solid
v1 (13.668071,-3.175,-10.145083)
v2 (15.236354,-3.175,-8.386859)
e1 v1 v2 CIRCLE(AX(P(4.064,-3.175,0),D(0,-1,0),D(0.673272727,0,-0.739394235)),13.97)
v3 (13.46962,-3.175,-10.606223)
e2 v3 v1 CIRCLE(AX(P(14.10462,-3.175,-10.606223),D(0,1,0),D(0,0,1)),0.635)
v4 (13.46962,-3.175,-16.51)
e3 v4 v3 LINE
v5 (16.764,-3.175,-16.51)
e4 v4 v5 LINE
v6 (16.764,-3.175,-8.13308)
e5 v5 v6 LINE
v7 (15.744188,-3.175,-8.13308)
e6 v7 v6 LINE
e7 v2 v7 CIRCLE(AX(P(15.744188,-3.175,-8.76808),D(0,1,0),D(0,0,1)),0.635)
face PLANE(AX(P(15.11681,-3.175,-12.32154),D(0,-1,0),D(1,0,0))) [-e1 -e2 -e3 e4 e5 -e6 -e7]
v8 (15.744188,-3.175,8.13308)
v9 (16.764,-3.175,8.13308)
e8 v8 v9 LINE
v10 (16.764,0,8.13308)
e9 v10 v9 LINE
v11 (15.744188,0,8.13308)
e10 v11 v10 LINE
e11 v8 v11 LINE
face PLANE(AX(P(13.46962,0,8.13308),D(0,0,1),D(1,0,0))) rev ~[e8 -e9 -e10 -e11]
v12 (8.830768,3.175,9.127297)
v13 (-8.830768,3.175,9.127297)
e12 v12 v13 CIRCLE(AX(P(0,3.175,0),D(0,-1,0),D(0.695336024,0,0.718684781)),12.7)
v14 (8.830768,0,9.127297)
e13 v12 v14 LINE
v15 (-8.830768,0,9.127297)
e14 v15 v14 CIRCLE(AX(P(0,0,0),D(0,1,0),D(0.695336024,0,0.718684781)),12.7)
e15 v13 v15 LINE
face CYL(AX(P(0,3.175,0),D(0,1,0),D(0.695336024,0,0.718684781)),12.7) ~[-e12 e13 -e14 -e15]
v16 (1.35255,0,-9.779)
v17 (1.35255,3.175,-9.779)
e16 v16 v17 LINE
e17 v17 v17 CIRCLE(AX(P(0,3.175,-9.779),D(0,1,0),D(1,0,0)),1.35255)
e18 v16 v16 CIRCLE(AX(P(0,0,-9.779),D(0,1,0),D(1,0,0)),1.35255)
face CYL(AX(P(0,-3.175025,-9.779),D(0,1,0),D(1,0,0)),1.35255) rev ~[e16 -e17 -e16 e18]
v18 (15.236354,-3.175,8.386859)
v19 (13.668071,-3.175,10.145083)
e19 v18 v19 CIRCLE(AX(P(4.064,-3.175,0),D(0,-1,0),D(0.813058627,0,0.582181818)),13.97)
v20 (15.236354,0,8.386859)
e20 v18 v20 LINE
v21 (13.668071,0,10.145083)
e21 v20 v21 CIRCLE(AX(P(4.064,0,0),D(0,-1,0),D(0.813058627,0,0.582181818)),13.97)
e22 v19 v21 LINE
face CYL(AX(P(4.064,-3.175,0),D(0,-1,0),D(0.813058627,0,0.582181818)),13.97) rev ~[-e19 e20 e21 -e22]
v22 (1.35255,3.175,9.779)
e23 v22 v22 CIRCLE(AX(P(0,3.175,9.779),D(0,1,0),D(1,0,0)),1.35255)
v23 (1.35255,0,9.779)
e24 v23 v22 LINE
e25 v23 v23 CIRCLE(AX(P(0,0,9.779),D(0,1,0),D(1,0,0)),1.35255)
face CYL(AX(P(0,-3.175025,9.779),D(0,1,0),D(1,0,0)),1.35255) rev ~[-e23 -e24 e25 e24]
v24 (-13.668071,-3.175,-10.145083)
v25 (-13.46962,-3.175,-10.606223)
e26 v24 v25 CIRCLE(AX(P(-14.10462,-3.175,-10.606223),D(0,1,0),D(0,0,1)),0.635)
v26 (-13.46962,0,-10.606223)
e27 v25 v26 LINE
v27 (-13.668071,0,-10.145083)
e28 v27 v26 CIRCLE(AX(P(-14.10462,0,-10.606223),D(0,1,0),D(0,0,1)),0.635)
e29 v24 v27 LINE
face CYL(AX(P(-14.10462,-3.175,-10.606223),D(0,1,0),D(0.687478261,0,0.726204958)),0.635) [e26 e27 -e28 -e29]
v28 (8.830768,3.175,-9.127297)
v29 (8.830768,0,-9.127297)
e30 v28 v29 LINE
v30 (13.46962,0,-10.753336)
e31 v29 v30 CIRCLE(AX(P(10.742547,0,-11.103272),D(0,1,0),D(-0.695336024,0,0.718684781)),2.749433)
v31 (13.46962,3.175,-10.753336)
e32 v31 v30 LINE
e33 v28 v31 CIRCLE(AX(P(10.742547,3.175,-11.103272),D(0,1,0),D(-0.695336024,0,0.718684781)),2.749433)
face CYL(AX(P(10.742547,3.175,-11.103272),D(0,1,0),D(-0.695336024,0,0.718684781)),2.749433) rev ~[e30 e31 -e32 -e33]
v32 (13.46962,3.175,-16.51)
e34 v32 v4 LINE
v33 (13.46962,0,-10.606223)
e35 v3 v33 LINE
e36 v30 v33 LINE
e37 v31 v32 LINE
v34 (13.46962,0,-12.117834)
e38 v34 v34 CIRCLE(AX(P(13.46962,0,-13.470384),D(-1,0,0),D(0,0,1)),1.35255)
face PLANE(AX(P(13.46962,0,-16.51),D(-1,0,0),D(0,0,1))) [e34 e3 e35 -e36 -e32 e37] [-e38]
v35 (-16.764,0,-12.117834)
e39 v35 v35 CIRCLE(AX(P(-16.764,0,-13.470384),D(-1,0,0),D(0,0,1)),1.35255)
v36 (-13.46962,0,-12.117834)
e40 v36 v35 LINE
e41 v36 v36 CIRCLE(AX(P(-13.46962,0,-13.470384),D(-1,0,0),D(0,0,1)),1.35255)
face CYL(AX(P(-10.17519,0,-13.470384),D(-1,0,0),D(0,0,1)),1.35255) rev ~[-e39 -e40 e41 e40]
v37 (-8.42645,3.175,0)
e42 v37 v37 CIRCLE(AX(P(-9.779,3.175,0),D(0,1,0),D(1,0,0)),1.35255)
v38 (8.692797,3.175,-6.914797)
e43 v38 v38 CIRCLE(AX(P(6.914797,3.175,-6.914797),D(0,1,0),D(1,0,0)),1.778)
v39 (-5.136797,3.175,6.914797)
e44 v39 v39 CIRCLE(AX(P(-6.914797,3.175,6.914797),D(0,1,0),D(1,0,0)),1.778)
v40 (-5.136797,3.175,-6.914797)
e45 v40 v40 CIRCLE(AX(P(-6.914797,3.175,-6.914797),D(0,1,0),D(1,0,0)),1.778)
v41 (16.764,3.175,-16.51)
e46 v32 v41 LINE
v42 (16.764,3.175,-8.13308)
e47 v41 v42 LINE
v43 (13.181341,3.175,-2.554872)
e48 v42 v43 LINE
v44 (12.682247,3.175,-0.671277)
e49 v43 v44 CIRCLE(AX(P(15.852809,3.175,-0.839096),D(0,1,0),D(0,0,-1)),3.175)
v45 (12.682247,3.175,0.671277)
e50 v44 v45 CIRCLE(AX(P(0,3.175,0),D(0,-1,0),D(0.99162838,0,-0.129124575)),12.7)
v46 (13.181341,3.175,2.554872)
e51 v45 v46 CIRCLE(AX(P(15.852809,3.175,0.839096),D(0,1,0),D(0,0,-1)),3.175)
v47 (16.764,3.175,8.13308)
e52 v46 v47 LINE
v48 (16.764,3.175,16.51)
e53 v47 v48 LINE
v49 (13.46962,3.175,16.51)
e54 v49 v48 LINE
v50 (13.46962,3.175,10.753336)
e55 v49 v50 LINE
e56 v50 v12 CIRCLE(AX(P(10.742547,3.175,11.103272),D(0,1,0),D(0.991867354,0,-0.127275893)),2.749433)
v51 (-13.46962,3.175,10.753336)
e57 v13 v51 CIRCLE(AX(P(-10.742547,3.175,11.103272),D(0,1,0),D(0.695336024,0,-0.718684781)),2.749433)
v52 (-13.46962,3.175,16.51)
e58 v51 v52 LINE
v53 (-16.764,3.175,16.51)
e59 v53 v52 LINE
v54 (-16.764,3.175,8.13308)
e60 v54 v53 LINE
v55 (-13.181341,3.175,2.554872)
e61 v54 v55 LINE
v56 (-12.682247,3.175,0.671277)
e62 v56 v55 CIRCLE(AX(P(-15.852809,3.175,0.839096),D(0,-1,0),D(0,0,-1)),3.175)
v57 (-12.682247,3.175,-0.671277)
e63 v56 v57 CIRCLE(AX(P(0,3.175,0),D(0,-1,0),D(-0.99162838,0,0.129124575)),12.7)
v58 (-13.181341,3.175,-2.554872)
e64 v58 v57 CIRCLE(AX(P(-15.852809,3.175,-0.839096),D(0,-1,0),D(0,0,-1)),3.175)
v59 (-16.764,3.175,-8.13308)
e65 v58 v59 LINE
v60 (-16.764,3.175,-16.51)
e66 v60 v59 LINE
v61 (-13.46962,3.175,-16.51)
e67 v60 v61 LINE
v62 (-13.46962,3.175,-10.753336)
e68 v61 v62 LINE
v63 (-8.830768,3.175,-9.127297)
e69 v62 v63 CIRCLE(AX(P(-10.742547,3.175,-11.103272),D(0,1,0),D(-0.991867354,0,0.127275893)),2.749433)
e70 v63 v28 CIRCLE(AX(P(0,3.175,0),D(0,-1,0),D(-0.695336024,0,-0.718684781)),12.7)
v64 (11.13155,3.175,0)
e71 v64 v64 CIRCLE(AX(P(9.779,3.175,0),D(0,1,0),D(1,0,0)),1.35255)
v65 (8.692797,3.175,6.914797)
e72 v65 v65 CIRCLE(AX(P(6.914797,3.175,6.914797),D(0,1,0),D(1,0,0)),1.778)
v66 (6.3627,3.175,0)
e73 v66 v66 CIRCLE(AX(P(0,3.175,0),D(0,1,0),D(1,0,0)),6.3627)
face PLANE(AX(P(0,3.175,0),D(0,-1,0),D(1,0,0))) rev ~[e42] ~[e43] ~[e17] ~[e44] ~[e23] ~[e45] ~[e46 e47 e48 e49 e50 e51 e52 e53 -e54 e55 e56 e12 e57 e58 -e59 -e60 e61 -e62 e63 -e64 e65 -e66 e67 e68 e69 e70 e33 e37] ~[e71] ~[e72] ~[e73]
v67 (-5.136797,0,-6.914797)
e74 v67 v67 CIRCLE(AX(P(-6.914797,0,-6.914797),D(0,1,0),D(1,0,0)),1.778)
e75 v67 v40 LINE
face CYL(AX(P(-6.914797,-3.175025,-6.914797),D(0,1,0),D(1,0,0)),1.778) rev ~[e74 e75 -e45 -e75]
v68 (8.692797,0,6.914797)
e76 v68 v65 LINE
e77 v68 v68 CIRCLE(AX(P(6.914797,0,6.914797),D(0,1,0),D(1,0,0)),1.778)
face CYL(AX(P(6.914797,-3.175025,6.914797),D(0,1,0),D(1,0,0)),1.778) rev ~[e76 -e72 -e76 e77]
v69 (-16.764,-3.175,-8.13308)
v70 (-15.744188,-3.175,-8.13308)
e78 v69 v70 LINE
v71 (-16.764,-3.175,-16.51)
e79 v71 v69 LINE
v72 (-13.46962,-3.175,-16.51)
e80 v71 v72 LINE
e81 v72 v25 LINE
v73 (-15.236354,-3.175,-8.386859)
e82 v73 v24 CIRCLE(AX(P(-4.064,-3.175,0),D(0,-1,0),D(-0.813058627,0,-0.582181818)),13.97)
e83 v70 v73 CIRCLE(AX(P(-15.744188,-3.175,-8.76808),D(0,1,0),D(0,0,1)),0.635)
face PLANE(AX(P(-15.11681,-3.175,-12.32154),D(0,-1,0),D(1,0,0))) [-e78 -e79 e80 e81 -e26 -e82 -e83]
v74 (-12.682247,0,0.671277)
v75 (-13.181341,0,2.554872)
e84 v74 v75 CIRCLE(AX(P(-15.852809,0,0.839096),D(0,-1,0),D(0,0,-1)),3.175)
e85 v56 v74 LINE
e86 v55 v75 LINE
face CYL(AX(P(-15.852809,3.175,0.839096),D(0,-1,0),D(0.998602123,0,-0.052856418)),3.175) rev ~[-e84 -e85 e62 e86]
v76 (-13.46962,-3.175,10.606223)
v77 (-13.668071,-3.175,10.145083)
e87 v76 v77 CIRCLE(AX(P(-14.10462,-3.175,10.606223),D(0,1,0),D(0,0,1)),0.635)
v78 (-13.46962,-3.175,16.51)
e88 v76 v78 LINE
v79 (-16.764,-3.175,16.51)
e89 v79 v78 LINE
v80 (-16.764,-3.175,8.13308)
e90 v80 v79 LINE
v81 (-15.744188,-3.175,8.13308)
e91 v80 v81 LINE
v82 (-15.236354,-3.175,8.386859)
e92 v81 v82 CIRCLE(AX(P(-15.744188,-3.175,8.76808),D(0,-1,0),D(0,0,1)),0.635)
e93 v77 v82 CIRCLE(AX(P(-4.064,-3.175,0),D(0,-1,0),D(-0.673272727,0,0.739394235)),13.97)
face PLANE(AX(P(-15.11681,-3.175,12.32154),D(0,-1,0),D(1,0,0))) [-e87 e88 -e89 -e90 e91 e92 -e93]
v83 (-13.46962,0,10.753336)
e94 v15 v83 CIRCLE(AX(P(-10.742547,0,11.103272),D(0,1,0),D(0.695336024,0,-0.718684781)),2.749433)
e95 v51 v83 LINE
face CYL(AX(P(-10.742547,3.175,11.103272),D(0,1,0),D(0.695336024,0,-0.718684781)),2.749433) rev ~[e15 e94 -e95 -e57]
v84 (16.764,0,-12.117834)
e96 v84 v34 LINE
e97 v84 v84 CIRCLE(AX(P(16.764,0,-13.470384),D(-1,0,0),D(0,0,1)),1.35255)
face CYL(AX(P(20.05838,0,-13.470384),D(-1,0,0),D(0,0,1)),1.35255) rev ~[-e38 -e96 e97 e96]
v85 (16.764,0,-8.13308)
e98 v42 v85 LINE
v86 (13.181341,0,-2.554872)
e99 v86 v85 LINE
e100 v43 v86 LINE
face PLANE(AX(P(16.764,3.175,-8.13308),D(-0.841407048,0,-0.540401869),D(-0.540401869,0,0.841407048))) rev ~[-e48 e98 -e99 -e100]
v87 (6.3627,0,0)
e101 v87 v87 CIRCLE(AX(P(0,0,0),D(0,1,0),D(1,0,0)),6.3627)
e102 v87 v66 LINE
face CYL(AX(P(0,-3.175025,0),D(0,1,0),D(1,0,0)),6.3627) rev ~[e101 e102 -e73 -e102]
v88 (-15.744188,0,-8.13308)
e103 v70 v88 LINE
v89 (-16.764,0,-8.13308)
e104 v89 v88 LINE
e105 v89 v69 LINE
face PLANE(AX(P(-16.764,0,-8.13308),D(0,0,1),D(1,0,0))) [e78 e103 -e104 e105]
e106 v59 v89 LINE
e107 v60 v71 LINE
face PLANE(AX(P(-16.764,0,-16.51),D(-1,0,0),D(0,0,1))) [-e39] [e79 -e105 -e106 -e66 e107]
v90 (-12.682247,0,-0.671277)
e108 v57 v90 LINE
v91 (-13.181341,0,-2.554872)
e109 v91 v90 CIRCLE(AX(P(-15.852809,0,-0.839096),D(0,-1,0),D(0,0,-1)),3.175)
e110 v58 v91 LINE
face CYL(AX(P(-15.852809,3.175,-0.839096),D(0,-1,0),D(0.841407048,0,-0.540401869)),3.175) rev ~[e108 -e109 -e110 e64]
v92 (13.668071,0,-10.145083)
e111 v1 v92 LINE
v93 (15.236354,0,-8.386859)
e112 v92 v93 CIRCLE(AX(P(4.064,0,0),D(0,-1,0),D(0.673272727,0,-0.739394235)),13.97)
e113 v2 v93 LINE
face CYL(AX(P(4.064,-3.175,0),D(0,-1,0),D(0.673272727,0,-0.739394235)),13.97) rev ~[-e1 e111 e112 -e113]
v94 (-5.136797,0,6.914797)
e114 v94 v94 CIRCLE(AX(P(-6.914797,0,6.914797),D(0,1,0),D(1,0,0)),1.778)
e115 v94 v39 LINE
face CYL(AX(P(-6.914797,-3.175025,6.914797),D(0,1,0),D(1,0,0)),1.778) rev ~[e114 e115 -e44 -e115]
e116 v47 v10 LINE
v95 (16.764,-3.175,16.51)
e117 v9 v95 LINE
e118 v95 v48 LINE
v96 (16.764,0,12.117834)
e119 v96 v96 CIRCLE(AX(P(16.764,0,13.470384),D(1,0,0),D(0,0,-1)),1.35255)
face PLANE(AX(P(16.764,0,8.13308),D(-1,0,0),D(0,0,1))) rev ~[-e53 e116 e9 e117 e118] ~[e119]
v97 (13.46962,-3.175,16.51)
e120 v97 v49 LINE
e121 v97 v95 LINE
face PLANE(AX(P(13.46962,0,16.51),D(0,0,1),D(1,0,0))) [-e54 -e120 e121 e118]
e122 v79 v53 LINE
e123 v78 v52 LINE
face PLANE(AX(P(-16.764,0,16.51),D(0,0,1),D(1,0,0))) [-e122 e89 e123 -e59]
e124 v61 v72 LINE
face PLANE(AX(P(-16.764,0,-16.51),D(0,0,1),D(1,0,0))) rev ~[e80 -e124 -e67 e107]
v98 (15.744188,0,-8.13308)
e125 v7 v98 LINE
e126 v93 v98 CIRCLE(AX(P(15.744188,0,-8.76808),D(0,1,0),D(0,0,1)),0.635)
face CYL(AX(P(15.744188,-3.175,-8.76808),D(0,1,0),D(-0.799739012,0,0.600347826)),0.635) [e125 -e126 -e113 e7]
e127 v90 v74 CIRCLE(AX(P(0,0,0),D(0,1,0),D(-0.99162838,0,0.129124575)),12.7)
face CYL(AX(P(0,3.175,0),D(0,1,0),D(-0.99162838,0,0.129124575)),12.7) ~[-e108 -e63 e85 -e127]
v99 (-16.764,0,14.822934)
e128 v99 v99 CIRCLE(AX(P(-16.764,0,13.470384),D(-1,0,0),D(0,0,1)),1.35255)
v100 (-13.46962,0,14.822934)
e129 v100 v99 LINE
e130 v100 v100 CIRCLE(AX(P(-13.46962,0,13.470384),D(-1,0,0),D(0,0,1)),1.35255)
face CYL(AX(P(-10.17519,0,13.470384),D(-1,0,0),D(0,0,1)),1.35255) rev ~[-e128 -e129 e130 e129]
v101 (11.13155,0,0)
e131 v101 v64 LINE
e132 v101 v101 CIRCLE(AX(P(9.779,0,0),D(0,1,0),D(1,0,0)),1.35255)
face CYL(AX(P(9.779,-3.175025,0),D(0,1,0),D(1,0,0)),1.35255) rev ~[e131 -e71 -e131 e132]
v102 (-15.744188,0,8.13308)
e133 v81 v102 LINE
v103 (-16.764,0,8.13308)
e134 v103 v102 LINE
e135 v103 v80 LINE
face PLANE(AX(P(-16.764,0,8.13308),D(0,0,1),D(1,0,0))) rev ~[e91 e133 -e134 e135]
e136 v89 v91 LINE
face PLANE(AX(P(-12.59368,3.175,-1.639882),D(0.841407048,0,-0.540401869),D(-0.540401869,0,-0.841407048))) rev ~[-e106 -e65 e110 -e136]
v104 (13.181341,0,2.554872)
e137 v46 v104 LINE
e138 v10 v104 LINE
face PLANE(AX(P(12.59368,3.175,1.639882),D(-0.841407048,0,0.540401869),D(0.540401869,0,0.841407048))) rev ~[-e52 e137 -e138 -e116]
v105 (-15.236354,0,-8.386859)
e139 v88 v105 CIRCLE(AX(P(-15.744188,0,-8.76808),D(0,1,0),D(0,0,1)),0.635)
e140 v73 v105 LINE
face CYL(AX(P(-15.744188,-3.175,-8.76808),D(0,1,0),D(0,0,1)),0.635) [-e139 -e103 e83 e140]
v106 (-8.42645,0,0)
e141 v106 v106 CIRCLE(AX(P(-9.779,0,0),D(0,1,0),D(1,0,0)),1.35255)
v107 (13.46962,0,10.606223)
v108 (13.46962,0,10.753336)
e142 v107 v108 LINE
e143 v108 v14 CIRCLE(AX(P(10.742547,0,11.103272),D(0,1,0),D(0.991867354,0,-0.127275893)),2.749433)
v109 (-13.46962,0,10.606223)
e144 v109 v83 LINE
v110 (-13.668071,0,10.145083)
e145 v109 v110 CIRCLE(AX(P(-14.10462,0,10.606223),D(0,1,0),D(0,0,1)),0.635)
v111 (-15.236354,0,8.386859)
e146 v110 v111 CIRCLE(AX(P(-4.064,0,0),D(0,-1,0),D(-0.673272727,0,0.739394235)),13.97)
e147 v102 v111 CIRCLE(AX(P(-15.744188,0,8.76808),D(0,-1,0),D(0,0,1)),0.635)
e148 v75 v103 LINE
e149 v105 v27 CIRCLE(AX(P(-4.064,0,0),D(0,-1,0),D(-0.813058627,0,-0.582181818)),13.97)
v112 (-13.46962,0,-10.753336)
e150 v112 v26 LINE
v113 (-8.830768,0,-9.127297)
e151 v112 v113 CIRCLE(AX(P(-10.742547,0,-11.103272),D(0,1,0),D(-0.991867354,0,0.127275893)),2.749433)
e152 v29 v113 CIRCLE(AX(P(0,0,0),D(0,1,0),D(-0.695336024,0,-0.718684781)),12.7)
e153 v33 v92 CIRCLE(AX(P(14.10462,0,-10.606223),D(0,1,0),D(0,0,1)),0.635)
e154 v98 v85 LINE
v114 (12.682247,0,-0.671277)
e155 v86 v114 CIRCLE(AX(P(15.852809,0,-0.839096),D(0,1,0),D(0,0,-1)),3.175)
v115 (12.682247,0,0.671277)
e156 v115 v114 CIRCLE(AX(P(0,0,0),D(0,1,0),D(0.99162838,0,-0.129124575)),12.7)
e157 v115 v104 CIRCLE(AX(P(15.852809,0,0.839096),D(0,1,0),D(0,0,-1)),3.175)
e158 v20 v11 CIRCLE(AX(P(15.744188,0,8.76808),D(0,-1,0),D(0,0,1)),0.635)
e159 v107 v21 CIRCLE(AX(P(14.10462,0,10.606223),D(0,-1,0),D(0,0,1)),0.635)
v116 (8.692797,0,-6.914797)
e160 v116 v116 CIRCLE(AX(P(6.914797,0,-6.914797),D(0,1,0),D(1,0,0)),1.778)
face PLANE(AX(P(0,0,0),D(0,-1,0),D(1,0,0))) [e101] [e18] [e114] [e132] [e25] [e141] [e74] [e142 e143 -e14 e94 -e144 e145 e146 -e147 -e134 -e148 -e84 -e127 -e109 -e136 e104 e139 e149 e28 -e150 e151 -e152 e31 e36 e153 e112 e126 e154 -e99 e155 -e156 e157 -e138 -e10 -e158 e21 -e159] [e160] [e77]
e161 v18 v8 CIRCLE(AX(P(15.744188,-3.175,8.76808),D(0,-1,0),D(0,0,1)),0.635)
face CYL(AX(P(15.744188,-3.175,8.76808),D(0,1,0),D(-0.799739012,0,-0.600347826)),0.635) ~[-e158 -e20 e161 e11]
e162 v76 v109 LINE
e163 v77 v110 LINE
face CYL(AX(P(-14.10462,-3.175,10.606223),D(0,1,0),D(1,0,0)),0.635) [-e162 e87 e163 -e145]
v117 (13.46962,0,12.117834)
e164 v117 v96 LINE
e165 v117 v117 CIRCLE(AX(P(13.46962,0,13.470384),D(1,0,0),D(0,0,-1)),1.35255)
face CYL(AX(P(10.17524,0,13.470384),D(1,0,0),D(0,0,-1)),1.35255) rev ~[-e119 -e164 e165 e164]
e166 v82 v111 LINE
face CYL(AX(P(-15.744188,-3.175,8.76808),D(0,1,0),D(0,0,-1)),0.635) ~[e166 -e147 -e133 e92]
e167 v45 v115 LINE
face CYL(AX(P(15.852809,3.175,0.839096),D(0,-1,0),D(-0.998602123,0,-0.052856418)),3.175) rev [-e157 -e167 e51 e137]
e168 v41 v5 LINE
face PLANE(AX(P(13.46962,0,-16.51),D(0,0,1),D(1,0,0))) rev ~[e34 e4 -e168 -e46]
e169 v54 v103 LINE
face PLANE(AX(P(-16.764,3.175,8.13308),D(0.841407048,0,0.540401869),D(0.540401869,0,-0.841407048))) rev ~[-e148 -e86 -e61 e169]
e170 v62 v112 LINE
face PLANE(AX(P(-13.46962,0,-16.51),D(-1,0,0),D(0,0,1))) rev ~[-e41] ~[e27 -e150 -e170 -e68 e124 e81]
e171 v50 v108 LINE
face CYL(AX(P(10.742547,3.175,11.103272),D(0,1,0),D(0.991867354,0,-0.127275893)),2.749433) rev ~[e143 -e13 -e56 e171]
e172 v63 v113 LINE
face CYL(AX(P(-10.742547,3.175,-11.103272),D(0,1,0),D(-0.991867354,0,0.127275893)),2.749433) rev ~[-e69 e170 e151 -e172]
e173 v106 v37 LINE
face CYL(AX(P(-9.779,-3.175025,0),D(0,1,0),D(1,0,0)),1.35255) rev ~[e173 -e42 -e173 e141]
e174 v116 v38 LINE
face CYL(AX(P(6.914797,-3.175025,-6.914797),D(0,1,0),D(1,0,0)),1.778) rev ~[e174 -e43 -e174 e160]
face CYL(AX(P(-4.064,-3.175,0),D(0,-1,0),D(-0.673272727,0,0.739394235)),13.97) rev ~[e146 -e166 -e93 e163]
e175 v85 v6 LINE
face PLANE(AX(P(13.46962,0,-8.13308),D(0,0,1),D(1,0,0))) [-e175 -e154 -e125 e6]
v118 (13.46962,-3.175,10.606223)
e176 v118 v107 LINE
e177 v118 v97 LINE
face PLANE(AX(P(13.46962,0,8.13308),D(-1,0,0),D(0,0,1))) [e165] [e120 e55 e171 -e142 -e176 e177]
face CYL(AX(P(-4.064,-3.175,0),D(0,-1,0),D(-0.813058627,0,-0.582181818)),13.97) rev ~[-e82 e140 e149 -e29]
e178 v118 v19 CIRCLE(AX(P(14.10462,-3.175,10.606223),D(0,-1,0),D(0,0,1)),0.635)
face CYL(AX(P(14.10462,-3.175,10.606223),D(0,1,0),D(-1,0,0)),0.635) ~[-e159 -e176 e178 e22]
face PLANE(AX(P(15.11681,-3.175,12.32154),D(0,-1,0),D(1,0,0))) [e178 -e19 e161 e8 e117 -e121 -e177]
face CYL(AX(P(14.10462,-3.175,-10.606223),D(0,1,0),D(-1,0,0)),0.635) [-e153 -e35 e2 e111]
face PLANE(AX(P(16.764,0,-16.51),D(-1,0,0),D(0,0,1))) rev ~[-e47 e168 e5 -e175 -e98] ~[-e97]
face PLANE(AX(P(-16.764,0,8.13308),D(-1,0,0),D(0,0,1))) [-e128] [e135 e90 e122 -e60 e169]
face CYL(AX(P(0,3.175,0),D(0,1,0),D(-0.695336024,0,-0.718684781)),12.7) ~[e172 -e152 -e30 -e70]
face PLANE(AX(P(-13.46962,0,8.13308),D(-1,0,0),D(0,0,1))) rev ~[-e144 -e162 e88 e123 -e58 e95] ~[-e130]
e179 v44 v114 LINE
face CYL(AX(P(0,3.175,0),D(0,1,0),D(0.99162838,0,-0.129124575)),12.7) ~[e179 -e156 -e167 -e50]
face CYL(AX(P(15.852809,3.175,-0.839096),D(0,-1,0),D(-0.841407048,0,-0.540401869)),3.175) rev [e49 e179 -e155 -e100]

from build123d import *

# Parameters (mm, degrees)
SKETCH1_W                  = 33.528
SKETCH1_H                  = 33.02
BOSS_EXTRUDE1_DEPTH        = 3.175
CUT_EXTRUDE1_DEPTH         = 4.175
SKETCH3_W                  = 3.29438
SKETCH3_H                  = 8.37692
BOSS_EXTRUDE2_DEPTH        = 3.175
CUT_EXTRUDE2_DEPTH         = 7.35
SKETCH5_W                  = 3.29438
SKETCH5_H                  = 8.37692
BOSS_EXTRUDE3_DEPTH        = 3.175
CUT_EXTRUDE3_DEPTH         = 7.35
SKETCH7_W                  = 3.29438
SKETCH7_H                  = 8.37692
BOSS_EXTRUDE4_DEPTH        = 3.175
CUT_EXTRUDE4_DEPTH         = 7.35
SKETCH9_W                  = 3.29438
SKETCH9_H                  = 8.37692
BOSS_EXTRUDE5_DEPTH        = 3.175
CUT_EXTRUDE5_DEPTH         = 3.175
CUT_EXTRUDE6_DEPTH         = 3.175
CUT_EXTRUDE7_DEPTH         = 3.175
CUT_EXTRUDE8_DEPTH         = 3.175
HOLE1_D                    = 12.7254
HOLE1_DEPTH                = 3.175025
M2_5_CLEARANCE_HOLE1_D     = 2.7051
M2_5_CLEARANCE_HOLE1_DEPTH = 3.175025
M3_CLEARANCE_HOLE1_D       = 3.556
M3_CLEARANCE_HOLE1_DEPTH   = 3.175025
M2_5_CLEARANCE_HOLE2_D     = 2.7051
M2_5_CLEARANCE_HOLE2_DEPTH = 3.29438
M2_5_CLEARANCE_HOLE3_D     = 2.7051
M2_5_CLEARANCE_HOLE3_DEPTH = 3.29438
M2_5_CLEARANCE_HOLE4_D     = 2.7051
M2_5_CLEARANCE_HOLE4_DEPTH = 3.29443
FILLET1_R                  = 0.635
FILLET2_R                  = 3.175


with BuildPart() as part:
    # Sketch1 → Boss-Extrude1 (new body)
    with BuildSketch(Plane.XZ):
        Rectangle(SKETCH1_W, SKETCH1_H)
    extrude(amount=-BOSS_EXTRUDE1_DEPTH)

    # Sketch2 → Cut-Extrude1 (cut, through all)
    with BuildSketch(Plane(origin=(0, 3.175, 0), x_dir=(-1, 0, 0), z_dir=(0, 1, 0))):
        with BuildLine():
            Line((-13.46962, 16.51), (-13.46962, 10.753335779))
            ThreePointArc((-13.46962, 10.753335779), (-11.652039651, 8.508623021), (-8.8307675, 9.127296717))
            ThreePointArc((-8.8307675, 9.127296717), (0, 12.7), (8.8307675, 9.127296717))
            ThreePointArc((8.8307675, 9.127296717), (11.652039651, 8.508623021), (13.46962, 10.753335779))
            Line((13.46962, 10.753335779), (13.46962, 16.51))
            Line((13.46962, 16.51), (-13.46962, 16.51))
        make_face()
    extrude(amount=-CUT_EXTRUDE1_DEPTH, mode=Mode.SUBTRACT)

    # Sketch3 → Boss-Extrude2 (add)
    with BuildSketch(Plane.XZ):
        with Locations((-15.11681, 12.32154)):
            Rectangle(SKETCH3_W, SKETCH3_H)
    extrude(amount=BOSS_EXTRUDE2_DEPTH)

    # Sketch4 → Cut-Extrude2 (cut, through all)
    with BuildSketch(Plane(origin=(0, 3.175, 0), x_dir=(-1, 0, 0), z_dir=(0, 1, 0))):
        with BuildLine():
            Line((-16.764, 8.13308), (-16.764, -8.13308))
            Line((-16.764, -8.13308), (-12.593680427, -1.639882101))
            ThreePointArc((-12.593680427, -1.639882101), (-12.7, 0), (-12.593680427, 1.639882101))
            Line((-12.593680427, 1.639882101), (-16.764, 8.13308))
        make_face()
    extrude(amount=-CUT_EXTRUDE2_DEPTH, mode=Mode.SUBTRACT)

    # Sketch5 → Boss-Extrude3 (add)
    with BuildSketch(Plane.XZ):
        with Locations((15.11681, 12.32154)):
            Rectangle(SKETCH5_W, SKETCH5_H)
    extrude(amount=BOSS_EXTRUDE3_DEPTH)

    # Sketch6 → Cut-Extrude3 (cut, through all)
    with BuildSketch(Plane(origin=(0, 3.175, 0), x_dir=(-1, 0, 0), z_dir=(0, 1, 0))):
        with BuildLine():
            Line((13.46962, -16.51), (13.46962, -10.753335779))
            ThreePointArc((13.46962, -10.753335779), (11.652039651, -8.508623021), (8.8307675, -9.127296717))
            ThreePointArc((8.8307675, -9.127296717), (0, -12.7), (-8.8307675, -9.127296717))
            ThreePointArc((-8.8307675, -9.127296717), (-11.652039651, -8.508623021), (-13.46962, -10.753335779))
            Line((-13.46962, -10.753335779), (-13.46962, -16.51))
            Line((-13.46962, -16.51), (13.46962, -16.51))
        make_face()
    extrude(amount=-CUT_EXTRUDE3_DEPTH, mode=Mode.SUBTRACT)

    # Sketch7 → Boss-Extrude4 (add)
    with BuildSketch(Plane.XZ):
        with Locations((15.11681, -12.32154)):
            Rectangle(SKETCH7_W, SKETCH7_H)
    extrude(amount=BOSS_EXTRUDE4_DEPTH)

    # Sketch8 → Cut-Extrude4 (cut, through all)
    with BuildSketch(Plane(origin=(0, 3.175, 0), x_dir=(-1, 0, 0), z_dir=(0, 1, 0))):
        with BuildLine():
            Line((16.764, -8.13308), (16.764, 8.13308))
            Line((16.764, 8.13308), (12.593680427, 1.639882101))
            ThreePointArc((12.593680427, 1.639882101), (12.7, 0), (12.593680427, -1.639882101))
            Line((12.593680427, -1.639882101), (16.764, -8.13308))
        make_face()
    extrude(amount=-CUT_EXTRUDE4_DEPTH, mode=Mode.SUBTRACT)

    # Sketch9 → Boss-Extrude5 (add)
    with BuildSketch(Plane.XZ):
        with Locations((-15.11681, -12.32154)):
            Rectangle(SKETCH9_W, SKETCH9_H)
    extrude(amount=BOSS_EXTRUDE5_DEPTH)

    # Sketch10 → Cut-Extrude5 (cut)
    with BuildSketch(Plane.XZ.offset(3.175)):
        with BuildLine():
            Line((15.422429016, -8.13308), (13.46962, -8.13308))
            Line((13.46962, -8.13308), (13.46962, -10.329337463))
            ThreePointArc((13.46962, -10.329337463), (14.503938678, -9.282703292), (15.422429016, -8.13308))
        make_face()
    extrude(amount=-CUT_EXTRUDE5_DEPTH, mode=Mode.SUBTRACT)

    # Sketch11 → Cut-Extrude6 (cut)
    with BuildSketch(Plane.XZ.offset(3.175)):
        with BuildLine():
            Line((13.46962, 10.329337463), (13.46962, 8.13308))
            Line((13.46962, 8.13308), (15.422429016, 8.13308))
            ThreePointArc((15.422429016, 8.13308), (14.503938678, 9.282703292), (13.46962, 10.329337463))
        make_face()
    extrude(amount=-CUT_EXTRUDE6_DEPTH, mode=Mode.SUBTRACT)

    # Sketch12 → Cut-Extrude7 (cut)
    with BuildSketch(Plane.XZ.offset(3.175)):
        with BuildLine():
            Line((-15.422429016, 8.13308), (-13.46962, 8.13308))
            Line((-13.46962, 8.13308), (-13.46962, 10.329337463))
            ThreePointArc((-13.46962, 10.329337463), (-14.503938678, 9.282703292), (-15.422429016, 8.13308))
        make_face()
    extrude(amount=-CUT_EXTRUDE7_DEPTH, mode=Mode.SUBTRACT)

    # Sketch13 → Cut-Extrude8 (cut)
    with BuildSketch(Plane.XZ.offset(3.175)):
        with BuildLine():
            Line((-13.46962, -10.329337463), (-13.46962, -8.13308))
            Line((-13.46962, -8.13308), (-15.422429016, -8.13308))
            ThreePointArc((-15.422429016, -8.13308), (-14.503938678, -9.282703292), (-13.46962, -10.329337463))
        make_face()
    extrude(amount=-CUT_EXTRUDE8_DEPTH, mode=Mode.SUBTRACT)

    # Hole1
    with Locations(Plane(origin=(0, 0, 0), x_dir=(-1, 0, 0), z_dir=(0, -1, 0))):
        with Locations((0, 0)):
            Hole(HOLE1_D / 2, depth=HOLE1_DEPTH)

    # M2.5 Clearance Hole1
    with Locations(Plane(origin=(0, 0, 0), x_dir=(-1, 0, 0), z_dir=(0, -1, 0))):
        with Locations((0, -9.779), (9.779, 0), (0, 9.779), (-9.779, 0)):
            Hole(M2_5_CLEARANCE_HOLE1_D / 2, depth=M2_5_CLEARANCE_HOLE1_DEPTH)

    # M3 Clearance Hole1
    with Locations(Plane(origin=(0, 0, 0), x_dir=(-1, 0, 0), z_dir=(0, -1, 0))):
        with Locations((6.914797213, -6.914797213), (6.914797213, 6.914797213), (-6.914797213, 6.914797213), (-6.914797213, -6.914797213)):
            Hole(M3_CLEARANCE_HOLE1_D / 2, depth=M3_CLEARANCE_HOLE1_DEPTH)

    # M2.5 Clearance Hole2
    with Locations(Plane(origin=(16.764, 0, 0), x_dir=(0, 0, -1), z_dir=(1, 0, 0))):
        with Locations((13.470384182, 0)):
            Hole(M2_5_CLEARANCE_HOLE2_D / 2, depth=M2_5_CLEARANCE_HOLE2_DEPTH)

    # M2.5 Clearance Hole3
    with Locations(Plane.ZY.offset(-13.46962)):
        with Locations((13.470384182, 0)):
            Hole(M2_5_CLEARANCE_HOLE3_D / 2, depth=M2_5_CLEARANCE_HOLE3_DEPTH)

    # M2.5 Clearance Hole4
    with Locations(Plane(origin=(-13.46962, 0, 0), x_dir=(0, 0, -1), z_dir=(1, 0, 0))):
        with Locations((-13.470384182, 0), (13.470384182, 0)):
            Hole(M2_5_CLEARANCE_HOLE4_D / 2, depth=M2_5_CLEARANCE_HOLE4_DEPTH)

    # Fillet1
    fillet1_edges = [part.edges().sort_by_distance(p)[0] for p in [
        (-13.46962, -1.5875, -10.329337463),
        (-15.422429016, -1.5875, 8.13308),
        (15.422429016, -1.5875, -8.13308),
        (15.422429016, -1.5875, 8.13308),
        (13.46962, -1.5875, -10.329337463),
        (-13.46962, -1.5875, 10.329337463),
        (-15.422429016, -1.5875, -8.13308),
        (13.46962, -1.5875, 10.329337463),
    ]]
    fillet(fillet1_edges, radius=FILLET1_R)

    # Fillet2
    fillet2_edges = [part.edges().sort_by_distance(p)[0] for p in [
        (-12.593680427, 1.5875, -1.639882101),
        (12.593680427, 1.5875, -1.639882101),
        (-12.593680427, 1.5875, 1.639882101),
        (12.593680427, 1.5875, 1.639882101),
    ]]
    fillet(fillet2_edges, radius=FILLET2_R)


solid = part.part
